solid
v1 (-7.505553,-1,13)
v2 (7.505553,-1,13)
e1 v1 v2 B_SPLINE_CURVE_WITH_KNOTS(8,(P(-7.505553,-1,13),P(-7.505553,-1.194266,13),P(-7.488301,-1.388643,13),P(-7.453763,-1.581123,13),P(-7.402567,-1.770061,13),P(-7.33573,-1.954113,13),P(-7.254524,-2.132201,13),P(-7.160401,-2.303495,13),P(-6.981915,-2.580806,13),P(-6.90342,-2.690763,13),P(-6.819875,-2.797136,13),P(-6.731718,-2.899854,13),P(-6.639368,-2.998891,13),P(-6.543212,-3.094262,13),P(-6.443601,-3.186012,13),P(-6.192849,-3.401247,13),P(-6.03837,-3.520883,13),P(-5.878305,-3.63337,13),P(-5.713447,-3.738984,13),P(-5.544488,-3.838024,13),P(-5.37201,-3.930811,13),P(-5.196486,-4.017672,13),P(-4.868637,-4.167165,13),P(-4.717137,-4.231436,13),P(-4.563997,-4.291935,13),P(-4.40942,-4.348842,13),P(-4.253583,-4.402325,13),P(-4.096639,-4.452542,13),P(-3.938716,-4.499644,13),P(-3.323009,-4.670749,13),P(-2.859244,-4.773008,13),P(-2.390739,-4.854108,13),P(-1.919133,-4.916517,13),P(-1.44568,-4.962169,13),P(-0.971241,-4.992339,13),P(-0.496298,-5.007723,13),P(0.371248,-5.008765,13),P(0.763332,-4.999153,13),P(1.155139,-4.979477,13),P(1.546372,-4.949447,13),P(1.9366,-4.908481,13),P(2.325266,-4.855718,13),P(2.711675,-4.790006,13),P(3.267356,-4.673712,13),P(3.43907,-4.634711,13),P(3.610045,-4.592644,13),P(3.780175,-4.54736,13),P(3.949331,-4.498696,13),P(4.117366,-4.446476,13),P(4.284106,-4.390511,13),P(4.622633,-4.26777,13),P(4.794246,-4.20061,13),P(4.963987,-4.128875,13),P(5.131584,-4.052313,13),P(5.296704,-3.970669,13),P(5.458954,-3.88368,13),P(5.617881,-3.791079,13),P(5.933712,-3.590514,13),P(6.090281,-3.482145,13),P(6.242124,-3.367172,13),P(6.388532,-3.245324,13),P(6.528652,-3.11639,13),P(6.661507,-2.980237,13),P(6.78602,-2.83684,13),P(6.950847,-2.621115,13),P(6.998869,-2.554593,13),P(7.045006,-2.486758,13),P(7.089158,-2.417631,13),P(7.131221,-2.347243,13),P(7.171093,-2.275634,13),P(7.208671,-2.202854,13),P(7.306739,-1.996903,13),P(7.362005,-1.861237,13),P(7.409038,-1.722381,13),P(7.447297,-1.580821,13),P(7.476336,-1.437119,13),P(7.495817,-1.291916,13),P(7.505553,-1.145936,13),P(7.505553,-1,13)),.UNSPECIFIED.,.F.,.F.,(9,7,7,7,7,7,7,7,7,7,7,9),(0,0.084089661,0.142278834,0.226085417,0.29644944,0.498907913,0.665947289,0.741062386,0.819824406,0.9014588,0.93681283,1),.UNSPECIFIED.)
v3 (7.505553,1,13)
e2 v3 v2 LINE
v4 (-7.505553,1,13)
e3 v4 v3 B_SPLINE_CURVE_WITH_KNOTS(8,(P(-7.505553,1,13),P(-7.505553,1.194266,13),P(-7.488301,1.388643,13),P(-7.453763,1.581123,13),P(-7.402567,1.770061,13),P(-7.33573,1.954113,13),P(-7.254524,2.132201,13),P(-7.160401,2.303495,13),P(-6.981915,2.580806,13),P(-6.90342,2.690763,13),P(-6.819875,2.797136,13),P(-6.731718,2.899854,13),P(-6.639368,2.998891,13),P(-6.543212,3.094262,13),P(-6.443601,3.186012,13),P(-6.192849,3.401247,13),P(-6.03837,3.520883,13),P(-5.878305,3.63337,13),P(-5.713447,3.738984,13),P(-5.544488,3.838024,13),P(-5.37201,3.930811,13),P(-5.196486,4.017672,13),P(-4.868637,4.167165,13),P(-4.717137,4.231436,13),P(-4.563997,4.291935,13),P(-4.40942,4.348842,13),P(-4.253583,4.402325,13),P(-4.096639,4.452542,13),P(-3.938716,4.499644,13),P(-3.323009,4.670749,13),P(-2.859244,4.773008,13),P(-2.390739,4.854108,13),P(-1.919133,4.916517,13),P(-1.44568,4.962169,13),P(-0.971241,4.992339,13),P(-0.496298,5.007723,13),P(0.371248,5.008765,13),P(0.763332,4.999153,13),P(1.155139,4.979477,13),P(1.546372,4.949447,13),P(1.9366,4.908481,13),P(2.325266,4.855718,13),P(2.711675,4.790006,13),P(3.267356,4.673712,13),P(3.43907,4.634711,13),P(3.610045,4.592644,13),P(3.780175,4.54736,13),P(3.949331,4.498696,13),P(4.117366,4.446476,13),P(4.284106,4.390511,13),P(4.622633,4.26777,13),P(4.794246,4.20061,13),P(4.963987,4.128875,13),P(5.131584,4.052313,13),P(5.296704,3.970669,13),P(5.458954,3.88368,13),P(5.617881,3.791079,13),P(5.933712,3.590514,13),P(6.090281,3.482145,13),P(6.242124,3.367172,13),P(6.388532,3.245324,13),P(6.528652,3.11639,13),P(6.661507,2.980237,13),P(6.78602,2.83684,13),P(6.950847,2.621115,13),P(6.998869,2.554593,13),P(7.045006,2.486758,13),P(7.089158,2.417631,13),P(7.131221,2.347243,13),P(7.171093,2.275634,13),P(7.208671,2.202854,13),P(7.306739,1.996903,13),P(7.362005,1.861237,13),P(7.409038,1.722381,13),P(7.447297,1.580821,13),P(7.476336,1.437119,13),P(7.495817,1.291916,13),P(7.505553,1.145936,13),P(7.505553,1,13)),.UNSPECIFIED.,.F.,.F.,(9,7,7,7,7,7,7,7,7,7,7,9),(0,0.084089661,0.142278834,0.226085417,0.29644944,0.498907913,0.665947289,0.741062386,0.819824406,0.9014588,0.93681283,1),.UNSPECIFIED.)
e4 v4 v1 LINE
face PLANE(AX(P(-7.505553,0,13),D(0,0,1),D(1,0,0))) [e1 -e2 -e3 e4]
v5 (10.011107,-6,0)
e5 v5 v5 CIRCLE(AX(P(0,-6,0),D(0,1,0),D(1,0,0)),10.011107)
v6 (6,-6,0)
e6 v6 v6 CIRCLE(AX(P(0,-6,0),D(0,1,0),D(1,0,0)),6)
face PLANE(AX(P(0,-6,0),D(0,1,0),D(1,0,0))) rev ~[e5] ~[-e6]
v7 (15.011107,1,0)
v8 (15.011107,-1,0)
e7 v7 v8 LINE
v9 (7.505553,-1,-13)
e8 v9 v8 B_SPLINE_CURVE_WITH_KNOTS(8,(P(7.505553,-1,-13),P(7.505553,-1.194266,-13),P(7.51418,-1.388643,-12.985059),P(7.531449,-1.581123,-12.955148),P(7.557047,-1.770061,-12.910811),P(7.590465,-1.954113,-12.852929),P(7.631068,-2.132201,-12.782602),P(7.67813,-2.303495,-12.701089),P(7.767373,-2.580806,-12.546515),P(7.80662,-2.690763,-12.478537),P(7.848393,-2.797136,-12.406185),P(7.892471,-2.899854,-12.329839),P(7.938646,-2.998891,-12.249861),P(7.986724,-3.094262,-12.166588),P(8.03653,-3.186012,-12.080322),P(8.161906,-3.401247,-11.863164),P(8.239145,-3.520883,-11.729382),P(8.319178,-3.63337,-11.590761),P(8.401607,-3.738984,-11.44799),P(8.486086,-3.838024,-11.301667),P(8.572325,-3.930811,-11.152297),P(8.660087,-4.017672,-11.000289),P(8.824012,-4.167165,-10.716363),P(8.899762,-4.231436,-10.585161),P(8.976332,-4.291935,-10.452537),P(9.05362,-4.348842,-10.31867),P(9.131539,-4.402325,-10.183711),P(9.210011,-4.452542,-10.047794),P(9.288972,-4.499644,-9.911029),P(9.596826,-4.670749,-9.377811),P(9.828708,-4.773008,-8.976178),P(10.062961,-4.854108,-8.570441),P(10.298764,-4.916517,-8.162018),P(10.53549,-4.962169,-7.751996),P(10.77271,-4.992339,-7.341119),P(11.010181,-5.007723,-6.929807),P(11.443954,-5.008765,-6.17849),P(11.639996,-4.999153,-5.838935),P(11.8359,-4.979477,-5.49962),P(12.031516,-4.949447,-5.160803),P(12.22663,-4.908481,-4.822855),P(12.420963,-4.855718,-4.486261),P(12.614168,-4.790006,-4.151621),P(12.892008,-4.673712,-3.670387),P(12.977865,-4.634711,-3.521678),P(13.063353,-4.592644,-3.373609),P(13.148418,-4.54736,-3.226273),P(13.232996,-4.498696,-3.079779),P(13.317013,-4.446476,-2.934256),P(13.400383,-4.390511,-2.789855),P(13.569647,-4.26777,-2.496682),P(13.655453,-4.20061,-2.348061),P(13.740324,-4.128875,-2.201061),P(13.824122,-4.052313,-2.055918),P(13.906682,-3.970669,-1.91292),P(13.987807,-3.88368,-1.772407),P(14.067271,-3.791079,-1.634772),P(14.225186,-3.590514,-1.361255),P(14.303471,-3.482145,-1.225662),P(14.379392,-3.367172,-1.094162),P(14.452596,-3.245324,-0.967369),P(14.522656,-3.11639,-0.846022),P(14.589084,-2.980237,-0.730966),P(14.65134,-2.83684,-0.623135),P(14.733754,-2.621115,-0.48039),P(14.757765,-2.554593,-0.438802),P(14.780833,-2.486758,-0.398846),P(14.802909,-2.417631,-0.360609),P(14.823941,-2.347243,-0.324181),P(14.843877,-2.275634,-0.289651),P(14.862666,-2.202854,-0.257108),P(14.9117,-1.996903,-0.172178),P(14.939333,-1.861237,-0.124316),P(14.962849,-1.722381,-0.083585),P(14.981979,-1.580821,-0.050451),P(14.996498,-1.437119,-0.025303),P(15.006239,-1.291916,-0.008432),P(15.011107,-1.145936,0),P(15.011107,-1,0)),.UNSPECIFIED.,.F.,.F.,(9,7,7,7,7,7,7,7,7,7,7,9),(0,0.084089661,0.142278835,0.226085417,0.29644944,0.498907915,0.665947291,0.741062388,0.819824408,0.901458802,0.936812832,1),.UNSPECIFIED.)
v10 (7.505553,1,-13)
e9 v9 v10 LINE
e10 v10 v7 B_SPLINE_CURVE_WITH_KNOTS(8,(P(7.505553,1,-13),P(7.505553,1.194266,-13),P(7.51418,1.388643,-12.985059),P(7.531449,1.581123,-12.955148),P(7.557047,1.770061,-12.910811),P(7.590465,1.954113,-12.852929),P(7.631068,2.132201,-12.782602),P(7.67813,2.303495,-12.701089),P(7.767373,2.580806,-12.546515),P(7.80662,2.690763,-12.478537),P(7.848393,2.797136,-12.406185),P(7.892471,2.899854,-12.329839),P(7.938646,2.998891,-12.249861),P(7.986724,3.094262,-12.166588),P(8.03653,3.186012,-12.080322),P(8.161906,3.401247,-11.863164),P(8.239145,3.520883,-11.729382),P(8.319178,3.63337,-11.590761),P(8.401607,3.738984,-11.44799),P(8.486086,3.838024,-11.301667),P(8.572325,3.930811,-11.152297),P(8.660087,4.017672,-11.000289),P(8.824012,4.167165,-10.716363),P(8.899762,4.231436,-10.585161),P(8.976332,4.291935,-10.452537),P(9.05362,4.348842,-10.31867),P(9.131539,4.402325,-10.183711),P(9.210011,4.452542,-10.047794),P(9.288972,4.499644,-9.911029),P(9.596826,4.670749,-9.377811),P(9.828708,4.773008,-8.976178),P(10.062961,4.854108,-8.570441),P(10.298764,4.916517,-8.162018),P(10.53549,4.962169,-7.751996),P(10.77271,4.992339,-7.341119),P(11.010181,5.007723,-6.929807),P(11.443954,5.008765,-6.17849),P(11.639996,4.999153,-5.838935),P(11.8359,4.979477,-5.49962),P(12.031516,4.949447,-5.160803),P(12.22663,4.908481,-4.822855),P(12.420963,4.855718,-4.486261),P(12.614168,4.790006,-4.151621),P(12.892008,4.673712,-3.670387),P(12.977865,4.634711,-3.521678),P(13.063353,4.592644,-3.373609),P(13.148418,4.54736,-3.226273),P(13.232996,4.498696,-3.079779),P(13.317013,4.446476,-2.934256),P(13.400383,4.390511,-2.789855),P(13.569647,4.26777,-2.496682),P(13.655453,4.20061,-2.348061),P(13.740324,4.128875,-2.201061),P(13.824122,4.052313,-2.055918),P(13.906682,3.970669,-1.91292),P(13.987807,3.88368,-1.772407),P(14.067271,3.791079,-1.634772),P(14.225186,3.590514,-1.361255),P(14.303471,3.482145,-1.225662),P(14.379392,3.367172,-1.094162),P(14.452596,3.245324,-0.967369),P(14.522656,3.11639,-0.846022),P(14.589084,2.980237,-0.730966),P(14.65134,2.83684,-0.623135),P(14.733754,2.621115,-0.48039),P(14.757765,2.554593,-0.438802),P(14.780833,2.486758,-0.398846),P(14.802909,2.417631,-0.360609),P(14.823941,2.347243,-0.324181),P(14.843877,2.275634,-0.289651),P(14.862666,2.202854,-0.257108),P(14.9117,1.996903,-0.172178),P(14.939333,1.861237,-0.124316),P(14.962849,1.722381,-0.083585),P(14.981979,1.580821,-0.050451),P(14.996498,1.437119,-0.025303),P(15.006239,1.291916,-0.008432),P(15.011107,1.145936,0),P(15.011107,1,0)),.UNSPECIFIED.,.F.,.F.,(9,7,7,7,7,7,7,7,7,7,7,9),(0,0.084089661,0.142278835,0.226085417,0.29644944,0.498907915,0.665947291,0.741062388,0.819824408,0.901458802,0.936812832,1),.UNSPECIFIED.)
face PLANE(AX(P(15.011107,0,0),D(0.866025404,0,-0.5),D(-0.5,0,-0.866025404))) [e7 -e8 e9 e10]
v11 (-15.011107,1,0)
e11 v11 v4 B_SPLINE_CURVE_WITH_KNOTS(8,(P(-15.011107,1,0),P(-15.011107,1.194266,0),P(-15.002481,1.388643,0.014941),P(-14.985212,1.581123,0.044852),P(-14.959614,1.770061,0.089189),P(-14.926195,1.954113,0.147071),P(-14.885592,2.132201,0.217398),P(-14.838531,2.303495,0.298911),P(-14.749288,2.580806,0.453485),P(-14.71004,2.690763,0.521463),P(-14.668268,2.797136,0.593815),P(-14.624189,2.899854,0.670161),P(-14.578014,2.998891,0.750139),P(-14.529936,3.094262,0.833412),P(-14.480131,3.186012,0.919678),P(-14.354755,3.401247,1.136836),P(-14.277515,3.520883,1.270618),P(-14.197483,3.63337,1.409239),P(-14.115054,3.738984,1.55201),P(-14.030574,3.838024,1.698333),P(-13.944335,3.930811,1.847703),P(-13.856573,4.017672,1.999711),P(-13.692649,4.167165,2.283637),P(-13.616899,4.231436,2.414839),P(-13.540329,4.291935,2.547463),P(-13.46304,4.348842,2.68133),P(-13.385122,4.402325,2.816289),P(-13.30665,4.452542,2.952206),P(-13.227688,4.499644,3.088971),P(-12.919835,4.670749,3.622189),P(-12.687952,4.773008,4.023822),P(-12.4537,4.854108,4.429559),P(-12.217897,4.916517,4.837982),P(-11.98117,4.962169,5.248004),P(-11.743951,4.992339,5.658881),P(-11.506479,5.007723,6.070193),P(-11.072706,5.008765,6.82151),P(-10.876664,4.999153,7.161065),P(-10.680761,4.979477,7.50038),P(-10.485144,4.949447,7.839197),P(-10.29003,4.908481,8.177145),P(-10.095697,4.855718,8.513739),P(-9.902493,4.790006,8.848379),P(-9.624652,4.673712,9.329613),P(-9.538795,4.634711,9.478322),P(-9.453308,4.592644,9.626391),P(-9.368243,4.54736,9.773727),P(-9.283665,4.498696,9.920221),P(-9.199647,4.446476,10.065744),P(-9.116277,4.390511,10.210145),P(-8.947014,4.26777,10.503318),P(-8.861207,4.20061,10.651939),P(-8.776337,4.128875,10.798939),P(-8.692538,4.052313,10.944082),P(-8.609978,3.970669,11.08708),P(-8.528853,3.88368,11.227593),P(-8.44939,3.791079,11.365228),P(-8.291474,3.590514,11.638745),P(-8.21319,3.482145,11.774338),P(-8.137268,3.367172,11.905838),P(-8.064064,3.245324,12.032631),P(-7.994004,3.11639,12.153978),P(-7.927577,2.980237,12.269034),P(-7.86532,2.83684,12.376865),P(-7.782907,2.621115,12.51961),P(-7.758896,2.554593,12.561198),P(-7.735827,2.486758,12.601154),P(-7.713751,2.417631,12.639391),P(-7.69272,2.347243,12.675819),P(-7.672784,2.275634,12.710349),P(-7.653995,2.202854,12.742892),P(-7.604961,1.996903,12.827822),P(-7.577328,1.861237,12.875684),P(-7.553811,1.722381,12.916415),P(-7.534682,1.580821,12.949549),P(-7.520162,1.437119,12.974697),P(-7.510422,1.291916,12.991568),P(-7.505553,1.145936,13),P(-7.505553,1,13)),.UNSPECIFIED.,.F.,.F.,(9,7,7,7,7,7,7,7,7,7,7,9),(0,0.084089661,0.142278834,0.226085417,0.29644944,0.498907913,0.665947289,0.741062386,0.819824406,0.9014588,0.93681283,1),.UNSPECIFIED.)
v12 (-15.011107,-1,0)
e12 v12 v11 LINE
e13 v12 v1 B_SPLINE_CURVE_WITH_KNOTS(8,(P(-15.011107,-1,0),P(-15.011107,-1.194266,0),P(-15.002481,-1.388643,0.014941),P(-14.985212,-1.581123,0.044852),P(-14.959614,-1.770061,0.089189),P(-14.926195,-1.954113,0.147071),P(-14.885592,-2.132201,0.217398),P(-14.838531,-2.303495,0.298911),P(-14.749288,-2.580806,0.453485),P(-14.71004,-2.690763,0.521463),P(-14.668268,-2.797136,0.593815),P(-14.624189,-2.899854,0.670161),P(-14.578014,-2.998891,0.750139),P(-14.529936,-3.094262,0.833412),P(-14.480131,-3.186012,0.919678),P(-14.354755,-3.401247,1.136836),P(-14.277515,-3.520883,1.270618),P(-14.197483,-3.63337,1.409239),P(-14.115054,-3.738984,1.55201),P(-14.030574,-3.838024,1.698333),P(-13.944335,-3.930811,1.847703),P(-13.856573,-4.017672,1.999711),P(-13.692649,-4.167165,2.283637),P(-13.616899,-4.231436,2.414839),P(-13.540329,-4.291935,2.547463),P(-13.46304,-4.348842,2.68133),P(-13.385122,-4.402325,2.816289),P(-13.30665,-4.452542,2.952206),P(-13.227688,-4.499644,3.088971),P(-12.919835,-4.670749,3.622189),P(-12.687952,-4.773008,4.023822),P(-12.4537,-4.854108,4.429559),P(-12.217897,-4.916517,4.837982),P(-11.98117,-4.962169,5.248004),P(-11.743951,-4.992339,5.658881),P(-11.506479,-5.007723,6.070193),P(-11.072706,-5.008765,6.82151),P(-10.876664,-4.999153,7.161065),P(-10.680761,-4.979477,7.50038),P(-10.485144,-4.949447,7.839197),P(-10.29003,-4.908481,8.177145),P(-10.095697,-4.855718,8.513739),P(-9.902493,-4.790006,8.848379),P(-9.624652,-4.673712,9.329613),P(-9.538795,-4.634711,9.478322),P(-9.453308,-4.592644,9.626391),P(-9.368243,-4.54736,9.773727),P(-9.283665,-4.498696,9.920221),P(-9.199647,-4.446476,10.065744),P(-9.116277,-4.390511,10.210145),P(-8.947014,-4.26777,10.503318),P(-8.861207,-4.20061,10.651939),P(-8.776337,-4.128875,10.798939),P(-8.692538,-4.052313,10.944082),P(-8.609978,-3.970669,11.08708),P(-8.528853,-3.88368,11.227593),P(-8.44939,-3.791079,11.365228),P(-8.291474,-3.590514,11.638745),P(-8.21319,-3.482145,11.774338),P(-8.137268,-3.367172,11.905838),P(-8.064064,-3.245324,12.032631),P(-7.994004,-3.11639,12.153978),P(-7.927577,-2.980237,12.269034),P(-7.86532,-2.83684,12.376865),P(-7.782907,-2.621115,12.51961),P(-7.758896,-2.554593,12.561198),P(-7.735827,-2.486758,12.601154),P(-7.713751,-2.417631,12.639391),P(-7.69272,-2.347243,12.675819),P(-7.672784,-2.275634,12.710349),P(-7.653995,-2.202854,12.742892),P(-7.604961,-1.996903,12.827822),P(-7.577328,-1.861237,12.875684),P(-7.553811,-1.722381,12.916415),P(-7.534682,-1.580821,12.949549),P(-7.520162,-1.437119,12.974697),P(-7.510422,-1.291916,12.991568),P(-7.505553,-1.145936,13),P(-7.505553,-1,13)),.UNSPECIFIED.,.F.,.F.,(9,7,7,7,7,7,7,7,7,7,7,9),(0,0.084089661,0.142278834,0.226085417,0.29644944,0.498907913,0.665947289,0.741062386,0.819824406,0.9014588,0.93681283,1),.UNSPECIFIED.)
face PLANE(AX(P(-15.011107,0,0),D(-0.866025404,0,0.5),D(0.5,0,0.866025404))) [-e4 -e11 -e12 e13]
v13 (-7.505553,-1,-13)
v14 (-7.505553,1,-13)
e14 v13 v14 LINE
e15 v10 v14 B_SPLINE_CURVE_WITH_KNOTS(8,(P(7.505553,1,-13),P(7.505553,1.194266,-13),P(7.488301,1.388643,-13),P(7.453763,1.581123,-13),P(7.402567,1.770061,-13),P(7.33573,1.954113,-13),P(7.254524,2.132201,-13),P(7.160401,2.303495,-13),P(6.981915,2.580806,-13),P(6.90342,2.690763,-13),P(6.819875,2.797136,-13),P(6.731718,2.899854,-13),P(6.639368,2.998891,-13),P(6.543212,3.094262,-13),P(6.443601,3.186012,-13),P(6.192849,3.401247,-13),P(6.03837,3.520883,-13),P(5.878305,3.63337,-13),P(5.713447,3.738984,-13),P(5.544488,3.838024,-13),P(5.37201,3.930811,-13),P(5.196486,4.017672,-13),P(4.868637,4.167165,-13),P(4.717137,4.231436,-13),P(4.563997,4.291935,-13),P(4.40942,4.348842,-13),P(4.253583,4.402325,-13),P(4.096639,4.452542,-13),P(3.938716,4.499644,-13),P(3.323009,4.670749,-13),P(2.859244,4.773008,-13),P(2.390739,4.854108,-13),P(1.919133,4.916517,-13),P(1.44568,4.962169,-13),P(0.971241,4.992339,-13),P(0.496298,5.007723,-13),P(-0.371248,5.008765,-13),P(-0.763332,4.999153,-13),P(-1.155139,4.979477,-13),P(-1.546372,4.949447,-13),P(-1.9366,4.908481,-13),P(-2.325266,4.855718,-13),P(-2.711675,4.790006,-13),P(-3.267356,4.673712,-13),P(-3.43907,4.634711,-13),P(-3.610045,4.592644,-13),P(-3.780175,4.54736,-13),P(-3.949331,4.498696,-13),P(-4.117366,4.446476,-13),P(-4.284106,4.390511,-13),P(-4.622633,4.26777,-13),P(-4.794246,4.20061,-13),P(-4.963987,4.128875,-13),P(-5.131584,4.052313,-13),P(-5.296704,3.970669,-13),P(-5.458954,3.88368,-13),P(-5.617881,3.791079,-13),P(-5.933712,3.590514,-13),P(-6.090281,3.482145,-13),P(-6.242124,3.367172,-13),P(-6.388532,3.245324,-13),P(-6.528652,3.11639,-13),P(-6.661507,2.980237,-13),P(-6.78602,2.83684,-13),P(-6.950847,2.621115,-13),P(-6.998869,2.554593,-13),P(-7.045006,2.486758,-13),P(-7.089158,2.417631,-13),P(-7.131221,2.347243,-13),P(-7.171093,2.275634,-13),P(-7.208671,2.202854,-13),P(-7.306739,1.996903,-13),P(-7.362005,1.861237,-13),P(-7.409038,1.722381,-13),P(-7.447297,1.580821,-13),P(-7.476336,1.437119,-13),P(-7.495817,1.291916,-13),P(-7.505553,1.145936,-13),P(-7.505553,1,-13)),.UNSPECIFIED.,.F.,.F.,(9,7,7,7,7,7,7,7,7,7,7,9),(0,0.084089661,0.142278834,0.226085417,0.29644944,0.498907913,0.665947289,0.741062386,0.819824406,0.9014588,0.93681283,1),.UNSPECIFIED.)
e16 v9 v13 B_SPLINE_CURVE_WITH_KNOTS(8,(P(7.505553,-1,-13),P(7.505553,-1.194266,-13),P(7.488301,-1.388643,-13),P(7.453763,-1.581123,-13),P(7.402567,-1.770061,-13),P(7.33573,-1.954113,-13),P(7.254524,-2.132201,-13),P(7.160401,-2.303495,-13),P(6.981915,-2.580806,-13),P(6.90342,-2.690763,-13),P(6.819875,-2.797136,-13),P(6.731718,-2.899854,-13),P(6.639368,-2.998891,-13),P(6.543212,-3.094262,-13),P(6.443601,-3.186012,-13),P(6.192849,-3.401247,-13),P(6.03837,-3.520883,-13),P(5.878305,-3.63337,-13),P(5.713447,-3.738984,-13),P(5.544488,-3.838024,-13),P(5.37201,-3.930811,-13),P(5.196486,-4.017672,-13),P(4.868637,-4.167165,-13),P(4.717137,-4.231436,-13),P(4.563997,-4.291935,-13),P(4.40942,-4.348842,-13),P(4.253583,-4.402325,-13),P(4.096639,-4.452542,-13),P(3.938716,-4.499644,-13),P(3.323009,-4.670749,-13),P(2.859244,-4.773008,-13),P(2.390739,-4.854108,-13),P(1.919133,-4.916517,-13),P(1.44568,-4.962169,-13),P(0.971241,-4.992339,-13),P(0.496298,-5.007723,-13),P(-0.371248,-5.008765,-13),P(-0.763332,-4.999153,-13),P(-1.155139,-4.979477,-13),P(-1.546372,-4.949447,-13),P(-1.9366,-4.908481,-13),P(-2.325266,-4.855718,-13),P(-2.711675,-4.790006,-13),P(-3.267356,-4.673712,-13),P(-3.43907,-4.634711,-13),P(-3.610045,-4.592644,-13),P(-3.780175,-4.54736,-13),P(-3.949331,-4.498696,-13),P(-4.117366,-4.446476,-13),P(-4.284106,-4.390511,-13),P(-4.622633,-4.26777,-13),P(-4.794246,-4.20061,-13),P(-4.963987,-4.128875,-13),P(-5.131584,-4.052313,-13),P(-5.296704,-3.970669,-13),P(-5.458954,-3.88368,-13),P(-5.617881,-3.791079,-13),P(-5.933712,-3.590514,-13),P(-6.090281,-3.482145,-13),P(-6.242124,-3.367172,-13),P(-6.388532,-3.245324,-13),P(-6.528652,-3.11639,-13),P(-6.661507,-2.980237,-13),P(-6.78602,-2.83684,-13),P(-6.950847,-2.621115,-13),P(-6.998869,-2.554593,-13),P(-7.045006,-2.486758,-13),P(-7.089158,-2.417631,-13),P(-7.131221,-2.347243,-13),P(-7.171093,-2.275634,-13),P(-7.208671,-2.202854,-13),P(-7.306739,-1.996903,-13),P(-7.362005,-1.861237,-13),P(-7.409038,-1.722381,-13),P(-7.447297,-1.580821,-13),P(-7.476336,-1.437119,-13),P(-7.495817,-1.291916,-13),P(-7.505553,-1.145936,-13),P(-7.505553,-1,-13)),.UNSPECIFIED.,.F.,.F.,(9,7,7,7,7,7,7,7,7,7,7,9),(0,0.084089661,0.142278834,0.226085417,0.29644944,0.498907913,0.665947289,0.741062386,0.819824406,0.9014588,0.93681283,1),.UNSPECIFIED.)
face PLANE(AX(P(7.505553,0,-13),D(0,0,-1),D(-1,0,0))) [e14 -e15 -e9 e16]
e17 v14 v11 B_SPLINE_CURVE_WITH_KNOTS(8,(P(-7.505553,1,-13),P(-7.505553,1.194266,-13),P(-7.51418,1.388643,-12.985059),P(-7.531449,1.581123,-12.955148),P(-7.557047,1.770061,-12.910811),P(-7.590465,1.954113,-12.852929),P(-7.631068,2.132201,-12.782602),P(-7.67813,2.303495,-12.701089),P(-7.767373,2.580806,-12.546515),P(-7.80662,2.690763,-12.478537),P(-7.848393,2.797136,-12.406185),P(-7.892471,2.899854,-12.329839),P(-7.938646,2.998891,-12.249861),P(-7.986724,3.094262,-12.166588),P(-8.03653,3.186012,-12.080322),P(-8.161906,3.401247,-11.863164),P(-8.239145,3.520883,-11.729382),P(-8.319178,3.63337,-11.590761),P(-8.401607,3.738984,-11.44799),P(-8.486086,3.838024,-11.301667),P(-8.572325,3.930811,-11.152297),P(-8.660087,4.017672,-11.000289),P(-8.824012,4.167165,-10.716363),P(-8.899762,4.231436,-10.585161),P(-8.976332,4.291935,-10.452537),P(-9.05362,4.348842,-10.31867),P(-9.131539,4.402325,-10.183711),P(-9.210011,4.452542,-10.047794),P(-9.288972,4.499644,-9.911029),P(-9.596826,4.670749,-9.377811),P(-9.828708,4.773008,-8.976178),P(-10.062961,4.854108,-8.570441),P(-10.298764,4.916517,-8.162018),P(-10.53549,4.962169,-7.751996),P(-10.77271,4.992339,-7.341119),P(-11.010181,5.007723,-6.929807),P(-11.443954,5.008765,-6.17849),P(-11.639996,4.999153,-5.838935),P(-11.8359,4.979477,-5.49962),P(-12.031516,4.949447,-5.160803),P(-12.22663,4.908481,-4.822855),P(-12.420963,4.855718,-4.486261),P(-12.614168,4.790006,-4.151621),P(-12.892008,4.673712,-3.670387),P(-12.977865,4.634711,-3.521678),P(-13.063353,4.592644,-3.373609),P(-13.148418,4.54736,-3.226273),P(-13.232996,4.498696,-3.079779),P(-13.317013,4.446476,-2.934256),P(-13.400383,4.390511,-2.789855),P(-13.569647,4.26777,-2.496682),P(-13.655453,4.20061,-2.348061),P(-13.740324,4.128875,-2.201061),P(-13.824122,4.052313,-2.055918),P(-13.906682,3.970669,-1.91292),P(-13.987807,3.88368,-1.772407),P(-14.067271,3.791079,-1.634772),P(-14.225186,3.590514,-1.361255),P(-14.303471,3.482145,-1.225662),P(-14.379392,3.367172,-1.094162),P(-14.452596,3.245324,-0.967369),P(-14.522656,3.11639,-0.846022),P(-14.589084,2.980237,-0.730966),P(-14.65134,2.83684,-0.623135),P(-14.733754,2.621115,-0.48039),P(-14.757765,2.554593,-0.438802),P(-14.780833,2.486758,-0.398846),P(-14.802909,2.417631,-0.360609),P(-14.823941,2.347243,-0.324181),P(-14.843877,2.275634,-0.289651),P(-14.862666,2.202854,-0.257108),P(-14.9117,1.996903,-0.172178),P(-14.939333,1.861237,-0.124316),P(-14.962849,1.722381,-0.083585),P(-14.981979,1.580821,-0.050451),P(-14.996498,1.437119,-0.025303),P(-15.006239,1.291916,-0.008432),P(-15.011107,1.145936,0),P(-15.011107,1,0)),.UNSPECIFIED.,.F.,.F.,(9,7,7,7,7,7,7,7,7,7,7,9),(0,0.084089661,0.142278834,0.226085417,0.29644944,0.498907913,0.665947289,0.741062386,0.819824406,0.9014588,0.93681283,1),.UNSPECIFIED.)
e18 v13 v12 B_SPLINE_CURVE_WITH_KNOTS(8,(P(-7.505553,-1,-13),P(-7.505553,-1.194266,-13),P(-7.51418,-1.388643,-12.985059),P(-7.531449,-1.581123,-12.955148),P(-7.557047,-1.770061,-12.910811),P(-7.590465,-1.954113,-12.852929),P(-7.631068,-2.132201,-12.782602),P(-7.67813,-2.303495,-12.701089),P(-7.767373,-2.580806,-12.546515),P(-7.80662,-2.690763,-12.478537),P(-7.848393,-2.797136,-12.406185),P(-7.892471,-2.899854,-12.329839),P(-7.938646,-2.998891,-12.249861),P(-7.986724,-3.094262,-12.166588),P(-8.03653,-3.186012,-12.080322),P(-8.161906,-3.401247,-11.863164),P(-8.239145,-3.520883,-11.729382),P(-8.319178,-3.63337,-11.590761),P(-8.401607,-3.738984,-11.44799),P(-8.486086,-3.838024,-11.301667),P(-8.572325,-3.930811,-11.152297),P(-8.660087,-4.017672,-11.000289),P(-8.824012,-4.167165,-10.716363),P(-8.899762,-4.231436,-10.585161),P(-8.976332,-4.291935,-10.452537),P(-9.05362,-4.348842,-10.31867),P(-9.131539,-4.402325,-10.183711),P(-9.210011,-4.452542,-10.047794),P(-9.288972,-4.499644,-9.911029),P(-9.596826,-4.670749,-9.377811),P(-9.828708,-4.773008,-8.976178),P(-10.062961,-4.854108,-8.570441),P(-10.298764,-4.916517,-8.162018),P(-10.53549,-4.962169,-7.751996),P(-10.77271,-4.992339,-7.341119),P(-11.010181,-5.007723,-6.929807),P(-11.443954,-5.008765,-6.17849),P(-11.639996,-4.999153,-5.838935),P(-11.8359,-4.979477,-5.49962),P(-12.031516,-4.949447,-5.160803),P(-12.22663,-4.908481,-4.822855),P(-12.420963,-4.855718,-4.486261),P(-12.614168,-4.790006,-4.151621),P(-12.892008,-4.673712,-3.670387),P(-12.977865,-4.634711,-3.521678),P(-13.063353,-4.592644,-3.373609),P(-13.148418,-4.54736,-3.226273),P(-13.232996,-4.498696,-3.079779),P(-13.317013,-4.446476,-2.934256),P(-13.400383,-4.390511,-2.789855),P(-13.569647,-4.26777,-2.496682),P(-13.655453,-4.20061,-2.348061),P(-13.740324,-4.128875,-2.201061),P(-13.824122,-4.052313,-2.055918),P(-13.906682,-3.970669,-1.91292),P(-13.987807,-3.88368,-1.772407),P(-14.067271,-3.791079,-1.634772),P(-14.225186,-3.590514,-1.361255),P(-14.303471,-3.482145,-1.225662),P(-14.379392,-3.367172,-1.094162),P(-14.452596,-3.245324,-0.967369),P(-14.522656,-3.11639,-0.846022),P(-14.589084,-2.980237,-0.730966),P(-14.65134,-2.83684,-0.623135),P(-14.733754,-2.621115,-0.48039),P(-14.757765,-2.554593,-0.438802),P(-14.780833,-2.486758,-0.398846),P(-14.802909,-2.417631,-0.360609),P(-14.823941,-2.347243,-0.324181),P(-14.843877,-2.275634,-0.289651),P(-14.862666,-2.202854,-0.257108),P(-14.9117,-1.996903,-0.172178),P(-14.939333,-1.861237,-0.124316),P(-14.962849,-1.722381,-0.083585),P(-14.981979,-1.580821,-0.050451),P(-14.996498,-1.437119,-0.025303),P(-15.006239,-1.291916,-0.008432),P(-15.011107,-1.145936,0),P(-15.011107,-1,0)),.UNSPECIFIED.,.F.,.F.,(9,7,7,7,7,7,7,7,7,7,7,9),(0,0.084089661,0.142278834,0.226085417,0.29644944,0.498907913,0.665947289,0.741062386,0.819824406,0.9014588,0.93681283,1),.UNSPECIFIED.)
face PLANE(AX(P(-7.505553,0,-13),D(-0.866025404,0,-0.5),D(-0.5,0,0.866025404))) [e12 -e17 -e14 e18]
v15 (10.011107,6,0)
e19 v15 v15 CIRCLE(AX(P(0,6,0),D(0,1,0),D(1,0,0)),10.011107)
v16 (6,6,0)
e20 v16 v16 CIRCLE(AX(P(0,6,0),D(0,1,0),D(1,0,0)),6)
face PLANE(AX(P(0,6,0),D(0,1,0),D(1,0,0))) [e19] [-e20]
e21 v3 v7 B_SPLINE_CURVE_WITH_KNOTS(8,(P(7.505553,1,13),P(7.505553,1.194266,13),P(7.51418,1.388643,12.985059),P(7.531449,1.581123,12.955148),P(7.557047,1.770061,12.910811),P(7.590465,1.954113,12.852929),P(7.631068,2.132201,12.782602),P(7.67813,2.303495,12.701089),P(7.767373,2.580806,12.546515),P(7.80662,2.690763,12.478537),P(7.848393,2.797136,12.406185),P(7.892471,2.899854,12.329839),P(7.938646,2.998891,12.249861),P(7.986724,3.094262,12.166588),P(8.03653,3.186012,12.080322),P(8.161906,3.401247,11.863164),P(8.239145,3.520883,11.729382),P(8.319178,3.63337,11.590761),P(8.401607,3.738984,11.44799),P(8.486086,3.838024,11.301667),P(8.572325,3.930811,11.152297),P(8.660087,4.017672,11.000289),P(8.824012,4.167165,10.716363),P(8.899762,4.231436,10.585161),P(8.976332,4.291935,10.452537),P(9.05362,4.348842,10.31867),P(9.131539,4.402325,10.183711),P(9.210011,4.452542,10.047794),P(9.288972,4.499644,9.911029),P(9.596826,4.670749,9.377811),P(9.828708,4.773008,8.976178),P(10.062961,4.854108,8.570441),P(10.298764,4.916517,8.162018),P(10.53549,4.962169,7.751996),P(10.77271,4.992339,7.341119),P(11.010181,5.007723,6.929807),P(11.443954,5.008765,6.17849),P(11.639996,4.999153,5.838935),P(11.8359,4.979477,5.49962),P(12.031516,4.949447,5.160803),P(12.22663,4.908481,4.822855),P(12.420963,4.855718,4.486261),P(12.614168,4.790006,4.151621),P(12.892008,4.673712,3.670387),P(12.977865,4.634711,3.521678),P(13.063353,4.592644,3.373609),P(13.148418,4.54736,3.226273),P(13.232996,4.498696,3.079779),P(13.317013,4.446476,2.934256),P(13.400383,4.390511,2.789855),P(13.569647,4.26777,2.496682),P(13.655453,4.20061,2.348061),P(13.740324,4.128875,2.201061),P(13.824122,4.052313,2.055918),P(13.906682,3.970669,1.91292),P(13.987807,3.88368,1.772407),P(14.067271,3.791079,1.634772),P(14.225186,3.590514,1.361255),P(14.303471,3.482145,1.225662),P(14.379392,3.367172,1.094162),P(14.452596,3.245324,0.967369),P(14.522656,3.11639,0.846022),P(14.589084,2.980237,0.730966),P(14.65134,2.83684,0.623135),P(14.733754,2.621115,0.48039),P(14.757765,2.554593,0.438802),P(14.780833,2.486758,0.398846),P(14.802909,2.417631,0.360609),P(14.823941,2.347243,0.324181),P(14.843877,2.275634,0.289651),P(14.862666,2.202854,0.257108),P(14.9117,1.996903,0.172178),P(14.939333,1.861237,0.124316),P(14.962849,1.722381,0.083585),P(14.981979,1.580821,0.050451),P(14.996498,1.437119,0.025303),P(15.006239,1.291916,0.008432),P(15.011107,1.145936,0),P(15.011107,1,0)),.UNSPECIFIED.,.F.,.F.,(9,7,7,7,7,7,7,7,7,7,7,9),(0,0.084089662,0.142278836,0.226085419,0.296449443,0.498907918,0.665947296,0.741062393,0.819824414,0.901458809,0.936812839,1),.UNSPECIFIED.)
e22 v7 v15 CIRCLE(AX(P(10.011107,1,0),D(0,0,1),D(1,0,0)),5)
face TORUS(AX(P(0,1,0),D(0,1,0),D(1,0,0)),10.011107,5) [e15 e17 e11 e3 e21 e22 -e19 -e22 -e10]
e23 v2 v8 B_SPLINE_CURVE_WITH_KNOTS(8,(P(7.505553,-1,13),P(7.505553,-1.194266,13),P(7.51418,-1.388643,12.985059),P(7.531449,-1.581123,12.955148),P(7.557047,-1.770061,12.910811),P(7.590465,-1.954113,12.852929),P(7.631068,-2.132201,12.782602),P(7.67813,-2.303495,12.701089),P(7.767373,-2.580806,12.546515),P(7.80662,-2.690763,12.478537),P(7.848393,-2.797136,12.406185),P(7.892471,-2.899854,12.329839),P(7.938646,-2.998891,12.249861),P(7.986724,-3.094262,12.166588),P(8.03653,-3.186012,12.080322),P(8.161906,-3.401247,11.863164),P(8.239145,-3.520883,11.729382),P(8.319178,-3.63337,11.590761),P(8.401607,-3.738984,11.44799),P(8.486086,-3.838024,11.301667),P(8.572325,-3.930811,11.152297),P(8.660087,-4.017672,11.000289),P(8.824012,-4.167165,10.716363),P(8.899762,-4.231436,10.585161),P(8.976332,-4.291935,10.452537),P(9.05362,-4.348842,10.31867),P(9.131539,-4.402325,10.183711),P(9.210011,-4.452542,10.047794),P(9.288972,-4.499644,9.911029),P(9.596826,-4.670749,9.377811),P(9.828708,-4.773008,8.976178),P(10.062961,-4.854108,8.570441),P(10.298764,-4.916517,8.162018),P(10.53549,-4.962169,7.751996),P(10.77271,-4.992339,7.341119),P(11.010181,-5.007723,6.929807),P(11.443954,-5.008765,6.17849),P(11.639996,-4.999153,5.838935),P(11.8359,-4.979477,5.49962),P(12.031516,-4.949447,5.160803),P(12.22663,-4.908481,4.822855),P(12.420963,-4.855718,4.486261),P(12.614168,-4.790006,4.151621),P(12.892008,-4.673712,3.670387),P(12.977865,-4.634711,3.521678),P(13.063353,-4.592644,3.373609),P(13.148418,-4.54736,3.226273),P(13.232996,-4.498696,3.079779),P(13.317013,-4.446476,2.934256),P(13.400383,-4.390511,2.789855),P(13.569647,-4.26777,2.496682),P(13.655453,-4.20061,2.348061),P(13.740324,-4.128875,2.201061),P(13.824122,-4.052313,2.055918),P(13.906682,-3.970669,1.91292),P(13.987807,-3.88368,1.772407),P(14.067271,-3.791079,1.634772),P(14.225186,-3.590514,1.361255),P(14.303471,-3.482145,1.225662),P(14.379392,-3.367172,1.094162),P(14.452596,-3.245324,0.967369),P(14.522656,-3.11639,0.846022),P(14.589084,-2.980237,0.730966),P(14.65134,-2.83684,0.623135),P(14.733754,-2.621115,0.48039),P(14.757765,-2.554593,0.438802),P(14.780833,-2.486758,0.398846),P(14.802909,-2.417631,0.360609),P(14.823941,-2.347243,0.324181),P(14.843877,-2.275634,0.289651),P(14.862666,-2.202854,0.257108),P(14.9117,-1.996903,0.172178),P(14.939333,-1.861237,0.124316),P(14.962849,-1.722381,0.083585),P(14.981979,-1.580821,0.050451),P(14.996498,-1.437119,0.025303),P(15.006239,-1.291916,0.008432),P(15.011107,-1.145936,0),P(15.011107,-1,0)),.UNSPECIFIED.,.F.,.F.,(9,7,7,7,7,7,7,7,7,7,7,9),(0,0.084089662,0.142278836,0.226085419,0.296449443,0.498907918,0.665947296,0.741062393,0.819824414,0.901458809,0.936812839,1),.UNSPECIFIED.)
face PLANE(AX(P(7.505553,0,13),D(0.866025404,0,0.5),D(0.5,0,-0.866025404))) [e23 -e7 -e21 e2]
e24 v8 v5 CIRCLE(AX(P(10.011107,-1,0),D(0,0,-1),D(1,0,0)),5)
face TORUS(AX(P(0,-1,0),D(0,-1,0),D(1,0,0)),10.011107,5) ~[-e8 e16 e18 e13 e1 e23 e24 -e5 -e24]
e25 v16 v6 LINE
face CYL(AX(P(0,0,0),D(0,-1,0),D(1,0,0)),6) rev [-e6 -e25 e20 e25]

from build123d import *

# Parameters (mm, degrees)
SKETCH1_R           = 6
BOSS_EXTRUDE1_DEPTH = 6


with BuildPart() as part:
    # Sketch1 → Boss-Extrude1 (new body, symmetric)
    with BuildSketch(Plane(origin=(0, 0, 0), x_dir=(1, 0, 0), z_dir=(0, 1, 0))):
        Polygon((15.011106999, 0), (7.505553499, 13), (-7.505553499, 13), (-15.011106999, 0), (-7.505553499, -13), (7.505553499, -13), align=None)
        Circle(SKETCH1_R, mode=Mode.SUBTRACT)
    extrude(amount=BOSS_EXTRUDE1_DEPTH, both=True)

    # Sketch3 → Cut-Revolve1 (revolve, cut)
    with BuildSketch(Plane.XY):
        with BuildLine():
            Line((10.011106999, 6), (15.011106999, 6))
            Line((15.011106999, 6), (15.011106999, 1))
            ThreePointArc((15.011106999, 1), (13.546640905, 4.535533906), (10.011106999, 6))
        make_face()
    cut_revolve1 = revolve(axis=Axis((0, 1.164773658, 0), (0, 1, 0)), mode=Mode.SUBTRACT)

    # Mirror1: Cut-Revolve1 across plane
    add(cut_revolve1.mirror(Plane.ZX), mode=Mode.SUBTRACT)


solid = part.part
